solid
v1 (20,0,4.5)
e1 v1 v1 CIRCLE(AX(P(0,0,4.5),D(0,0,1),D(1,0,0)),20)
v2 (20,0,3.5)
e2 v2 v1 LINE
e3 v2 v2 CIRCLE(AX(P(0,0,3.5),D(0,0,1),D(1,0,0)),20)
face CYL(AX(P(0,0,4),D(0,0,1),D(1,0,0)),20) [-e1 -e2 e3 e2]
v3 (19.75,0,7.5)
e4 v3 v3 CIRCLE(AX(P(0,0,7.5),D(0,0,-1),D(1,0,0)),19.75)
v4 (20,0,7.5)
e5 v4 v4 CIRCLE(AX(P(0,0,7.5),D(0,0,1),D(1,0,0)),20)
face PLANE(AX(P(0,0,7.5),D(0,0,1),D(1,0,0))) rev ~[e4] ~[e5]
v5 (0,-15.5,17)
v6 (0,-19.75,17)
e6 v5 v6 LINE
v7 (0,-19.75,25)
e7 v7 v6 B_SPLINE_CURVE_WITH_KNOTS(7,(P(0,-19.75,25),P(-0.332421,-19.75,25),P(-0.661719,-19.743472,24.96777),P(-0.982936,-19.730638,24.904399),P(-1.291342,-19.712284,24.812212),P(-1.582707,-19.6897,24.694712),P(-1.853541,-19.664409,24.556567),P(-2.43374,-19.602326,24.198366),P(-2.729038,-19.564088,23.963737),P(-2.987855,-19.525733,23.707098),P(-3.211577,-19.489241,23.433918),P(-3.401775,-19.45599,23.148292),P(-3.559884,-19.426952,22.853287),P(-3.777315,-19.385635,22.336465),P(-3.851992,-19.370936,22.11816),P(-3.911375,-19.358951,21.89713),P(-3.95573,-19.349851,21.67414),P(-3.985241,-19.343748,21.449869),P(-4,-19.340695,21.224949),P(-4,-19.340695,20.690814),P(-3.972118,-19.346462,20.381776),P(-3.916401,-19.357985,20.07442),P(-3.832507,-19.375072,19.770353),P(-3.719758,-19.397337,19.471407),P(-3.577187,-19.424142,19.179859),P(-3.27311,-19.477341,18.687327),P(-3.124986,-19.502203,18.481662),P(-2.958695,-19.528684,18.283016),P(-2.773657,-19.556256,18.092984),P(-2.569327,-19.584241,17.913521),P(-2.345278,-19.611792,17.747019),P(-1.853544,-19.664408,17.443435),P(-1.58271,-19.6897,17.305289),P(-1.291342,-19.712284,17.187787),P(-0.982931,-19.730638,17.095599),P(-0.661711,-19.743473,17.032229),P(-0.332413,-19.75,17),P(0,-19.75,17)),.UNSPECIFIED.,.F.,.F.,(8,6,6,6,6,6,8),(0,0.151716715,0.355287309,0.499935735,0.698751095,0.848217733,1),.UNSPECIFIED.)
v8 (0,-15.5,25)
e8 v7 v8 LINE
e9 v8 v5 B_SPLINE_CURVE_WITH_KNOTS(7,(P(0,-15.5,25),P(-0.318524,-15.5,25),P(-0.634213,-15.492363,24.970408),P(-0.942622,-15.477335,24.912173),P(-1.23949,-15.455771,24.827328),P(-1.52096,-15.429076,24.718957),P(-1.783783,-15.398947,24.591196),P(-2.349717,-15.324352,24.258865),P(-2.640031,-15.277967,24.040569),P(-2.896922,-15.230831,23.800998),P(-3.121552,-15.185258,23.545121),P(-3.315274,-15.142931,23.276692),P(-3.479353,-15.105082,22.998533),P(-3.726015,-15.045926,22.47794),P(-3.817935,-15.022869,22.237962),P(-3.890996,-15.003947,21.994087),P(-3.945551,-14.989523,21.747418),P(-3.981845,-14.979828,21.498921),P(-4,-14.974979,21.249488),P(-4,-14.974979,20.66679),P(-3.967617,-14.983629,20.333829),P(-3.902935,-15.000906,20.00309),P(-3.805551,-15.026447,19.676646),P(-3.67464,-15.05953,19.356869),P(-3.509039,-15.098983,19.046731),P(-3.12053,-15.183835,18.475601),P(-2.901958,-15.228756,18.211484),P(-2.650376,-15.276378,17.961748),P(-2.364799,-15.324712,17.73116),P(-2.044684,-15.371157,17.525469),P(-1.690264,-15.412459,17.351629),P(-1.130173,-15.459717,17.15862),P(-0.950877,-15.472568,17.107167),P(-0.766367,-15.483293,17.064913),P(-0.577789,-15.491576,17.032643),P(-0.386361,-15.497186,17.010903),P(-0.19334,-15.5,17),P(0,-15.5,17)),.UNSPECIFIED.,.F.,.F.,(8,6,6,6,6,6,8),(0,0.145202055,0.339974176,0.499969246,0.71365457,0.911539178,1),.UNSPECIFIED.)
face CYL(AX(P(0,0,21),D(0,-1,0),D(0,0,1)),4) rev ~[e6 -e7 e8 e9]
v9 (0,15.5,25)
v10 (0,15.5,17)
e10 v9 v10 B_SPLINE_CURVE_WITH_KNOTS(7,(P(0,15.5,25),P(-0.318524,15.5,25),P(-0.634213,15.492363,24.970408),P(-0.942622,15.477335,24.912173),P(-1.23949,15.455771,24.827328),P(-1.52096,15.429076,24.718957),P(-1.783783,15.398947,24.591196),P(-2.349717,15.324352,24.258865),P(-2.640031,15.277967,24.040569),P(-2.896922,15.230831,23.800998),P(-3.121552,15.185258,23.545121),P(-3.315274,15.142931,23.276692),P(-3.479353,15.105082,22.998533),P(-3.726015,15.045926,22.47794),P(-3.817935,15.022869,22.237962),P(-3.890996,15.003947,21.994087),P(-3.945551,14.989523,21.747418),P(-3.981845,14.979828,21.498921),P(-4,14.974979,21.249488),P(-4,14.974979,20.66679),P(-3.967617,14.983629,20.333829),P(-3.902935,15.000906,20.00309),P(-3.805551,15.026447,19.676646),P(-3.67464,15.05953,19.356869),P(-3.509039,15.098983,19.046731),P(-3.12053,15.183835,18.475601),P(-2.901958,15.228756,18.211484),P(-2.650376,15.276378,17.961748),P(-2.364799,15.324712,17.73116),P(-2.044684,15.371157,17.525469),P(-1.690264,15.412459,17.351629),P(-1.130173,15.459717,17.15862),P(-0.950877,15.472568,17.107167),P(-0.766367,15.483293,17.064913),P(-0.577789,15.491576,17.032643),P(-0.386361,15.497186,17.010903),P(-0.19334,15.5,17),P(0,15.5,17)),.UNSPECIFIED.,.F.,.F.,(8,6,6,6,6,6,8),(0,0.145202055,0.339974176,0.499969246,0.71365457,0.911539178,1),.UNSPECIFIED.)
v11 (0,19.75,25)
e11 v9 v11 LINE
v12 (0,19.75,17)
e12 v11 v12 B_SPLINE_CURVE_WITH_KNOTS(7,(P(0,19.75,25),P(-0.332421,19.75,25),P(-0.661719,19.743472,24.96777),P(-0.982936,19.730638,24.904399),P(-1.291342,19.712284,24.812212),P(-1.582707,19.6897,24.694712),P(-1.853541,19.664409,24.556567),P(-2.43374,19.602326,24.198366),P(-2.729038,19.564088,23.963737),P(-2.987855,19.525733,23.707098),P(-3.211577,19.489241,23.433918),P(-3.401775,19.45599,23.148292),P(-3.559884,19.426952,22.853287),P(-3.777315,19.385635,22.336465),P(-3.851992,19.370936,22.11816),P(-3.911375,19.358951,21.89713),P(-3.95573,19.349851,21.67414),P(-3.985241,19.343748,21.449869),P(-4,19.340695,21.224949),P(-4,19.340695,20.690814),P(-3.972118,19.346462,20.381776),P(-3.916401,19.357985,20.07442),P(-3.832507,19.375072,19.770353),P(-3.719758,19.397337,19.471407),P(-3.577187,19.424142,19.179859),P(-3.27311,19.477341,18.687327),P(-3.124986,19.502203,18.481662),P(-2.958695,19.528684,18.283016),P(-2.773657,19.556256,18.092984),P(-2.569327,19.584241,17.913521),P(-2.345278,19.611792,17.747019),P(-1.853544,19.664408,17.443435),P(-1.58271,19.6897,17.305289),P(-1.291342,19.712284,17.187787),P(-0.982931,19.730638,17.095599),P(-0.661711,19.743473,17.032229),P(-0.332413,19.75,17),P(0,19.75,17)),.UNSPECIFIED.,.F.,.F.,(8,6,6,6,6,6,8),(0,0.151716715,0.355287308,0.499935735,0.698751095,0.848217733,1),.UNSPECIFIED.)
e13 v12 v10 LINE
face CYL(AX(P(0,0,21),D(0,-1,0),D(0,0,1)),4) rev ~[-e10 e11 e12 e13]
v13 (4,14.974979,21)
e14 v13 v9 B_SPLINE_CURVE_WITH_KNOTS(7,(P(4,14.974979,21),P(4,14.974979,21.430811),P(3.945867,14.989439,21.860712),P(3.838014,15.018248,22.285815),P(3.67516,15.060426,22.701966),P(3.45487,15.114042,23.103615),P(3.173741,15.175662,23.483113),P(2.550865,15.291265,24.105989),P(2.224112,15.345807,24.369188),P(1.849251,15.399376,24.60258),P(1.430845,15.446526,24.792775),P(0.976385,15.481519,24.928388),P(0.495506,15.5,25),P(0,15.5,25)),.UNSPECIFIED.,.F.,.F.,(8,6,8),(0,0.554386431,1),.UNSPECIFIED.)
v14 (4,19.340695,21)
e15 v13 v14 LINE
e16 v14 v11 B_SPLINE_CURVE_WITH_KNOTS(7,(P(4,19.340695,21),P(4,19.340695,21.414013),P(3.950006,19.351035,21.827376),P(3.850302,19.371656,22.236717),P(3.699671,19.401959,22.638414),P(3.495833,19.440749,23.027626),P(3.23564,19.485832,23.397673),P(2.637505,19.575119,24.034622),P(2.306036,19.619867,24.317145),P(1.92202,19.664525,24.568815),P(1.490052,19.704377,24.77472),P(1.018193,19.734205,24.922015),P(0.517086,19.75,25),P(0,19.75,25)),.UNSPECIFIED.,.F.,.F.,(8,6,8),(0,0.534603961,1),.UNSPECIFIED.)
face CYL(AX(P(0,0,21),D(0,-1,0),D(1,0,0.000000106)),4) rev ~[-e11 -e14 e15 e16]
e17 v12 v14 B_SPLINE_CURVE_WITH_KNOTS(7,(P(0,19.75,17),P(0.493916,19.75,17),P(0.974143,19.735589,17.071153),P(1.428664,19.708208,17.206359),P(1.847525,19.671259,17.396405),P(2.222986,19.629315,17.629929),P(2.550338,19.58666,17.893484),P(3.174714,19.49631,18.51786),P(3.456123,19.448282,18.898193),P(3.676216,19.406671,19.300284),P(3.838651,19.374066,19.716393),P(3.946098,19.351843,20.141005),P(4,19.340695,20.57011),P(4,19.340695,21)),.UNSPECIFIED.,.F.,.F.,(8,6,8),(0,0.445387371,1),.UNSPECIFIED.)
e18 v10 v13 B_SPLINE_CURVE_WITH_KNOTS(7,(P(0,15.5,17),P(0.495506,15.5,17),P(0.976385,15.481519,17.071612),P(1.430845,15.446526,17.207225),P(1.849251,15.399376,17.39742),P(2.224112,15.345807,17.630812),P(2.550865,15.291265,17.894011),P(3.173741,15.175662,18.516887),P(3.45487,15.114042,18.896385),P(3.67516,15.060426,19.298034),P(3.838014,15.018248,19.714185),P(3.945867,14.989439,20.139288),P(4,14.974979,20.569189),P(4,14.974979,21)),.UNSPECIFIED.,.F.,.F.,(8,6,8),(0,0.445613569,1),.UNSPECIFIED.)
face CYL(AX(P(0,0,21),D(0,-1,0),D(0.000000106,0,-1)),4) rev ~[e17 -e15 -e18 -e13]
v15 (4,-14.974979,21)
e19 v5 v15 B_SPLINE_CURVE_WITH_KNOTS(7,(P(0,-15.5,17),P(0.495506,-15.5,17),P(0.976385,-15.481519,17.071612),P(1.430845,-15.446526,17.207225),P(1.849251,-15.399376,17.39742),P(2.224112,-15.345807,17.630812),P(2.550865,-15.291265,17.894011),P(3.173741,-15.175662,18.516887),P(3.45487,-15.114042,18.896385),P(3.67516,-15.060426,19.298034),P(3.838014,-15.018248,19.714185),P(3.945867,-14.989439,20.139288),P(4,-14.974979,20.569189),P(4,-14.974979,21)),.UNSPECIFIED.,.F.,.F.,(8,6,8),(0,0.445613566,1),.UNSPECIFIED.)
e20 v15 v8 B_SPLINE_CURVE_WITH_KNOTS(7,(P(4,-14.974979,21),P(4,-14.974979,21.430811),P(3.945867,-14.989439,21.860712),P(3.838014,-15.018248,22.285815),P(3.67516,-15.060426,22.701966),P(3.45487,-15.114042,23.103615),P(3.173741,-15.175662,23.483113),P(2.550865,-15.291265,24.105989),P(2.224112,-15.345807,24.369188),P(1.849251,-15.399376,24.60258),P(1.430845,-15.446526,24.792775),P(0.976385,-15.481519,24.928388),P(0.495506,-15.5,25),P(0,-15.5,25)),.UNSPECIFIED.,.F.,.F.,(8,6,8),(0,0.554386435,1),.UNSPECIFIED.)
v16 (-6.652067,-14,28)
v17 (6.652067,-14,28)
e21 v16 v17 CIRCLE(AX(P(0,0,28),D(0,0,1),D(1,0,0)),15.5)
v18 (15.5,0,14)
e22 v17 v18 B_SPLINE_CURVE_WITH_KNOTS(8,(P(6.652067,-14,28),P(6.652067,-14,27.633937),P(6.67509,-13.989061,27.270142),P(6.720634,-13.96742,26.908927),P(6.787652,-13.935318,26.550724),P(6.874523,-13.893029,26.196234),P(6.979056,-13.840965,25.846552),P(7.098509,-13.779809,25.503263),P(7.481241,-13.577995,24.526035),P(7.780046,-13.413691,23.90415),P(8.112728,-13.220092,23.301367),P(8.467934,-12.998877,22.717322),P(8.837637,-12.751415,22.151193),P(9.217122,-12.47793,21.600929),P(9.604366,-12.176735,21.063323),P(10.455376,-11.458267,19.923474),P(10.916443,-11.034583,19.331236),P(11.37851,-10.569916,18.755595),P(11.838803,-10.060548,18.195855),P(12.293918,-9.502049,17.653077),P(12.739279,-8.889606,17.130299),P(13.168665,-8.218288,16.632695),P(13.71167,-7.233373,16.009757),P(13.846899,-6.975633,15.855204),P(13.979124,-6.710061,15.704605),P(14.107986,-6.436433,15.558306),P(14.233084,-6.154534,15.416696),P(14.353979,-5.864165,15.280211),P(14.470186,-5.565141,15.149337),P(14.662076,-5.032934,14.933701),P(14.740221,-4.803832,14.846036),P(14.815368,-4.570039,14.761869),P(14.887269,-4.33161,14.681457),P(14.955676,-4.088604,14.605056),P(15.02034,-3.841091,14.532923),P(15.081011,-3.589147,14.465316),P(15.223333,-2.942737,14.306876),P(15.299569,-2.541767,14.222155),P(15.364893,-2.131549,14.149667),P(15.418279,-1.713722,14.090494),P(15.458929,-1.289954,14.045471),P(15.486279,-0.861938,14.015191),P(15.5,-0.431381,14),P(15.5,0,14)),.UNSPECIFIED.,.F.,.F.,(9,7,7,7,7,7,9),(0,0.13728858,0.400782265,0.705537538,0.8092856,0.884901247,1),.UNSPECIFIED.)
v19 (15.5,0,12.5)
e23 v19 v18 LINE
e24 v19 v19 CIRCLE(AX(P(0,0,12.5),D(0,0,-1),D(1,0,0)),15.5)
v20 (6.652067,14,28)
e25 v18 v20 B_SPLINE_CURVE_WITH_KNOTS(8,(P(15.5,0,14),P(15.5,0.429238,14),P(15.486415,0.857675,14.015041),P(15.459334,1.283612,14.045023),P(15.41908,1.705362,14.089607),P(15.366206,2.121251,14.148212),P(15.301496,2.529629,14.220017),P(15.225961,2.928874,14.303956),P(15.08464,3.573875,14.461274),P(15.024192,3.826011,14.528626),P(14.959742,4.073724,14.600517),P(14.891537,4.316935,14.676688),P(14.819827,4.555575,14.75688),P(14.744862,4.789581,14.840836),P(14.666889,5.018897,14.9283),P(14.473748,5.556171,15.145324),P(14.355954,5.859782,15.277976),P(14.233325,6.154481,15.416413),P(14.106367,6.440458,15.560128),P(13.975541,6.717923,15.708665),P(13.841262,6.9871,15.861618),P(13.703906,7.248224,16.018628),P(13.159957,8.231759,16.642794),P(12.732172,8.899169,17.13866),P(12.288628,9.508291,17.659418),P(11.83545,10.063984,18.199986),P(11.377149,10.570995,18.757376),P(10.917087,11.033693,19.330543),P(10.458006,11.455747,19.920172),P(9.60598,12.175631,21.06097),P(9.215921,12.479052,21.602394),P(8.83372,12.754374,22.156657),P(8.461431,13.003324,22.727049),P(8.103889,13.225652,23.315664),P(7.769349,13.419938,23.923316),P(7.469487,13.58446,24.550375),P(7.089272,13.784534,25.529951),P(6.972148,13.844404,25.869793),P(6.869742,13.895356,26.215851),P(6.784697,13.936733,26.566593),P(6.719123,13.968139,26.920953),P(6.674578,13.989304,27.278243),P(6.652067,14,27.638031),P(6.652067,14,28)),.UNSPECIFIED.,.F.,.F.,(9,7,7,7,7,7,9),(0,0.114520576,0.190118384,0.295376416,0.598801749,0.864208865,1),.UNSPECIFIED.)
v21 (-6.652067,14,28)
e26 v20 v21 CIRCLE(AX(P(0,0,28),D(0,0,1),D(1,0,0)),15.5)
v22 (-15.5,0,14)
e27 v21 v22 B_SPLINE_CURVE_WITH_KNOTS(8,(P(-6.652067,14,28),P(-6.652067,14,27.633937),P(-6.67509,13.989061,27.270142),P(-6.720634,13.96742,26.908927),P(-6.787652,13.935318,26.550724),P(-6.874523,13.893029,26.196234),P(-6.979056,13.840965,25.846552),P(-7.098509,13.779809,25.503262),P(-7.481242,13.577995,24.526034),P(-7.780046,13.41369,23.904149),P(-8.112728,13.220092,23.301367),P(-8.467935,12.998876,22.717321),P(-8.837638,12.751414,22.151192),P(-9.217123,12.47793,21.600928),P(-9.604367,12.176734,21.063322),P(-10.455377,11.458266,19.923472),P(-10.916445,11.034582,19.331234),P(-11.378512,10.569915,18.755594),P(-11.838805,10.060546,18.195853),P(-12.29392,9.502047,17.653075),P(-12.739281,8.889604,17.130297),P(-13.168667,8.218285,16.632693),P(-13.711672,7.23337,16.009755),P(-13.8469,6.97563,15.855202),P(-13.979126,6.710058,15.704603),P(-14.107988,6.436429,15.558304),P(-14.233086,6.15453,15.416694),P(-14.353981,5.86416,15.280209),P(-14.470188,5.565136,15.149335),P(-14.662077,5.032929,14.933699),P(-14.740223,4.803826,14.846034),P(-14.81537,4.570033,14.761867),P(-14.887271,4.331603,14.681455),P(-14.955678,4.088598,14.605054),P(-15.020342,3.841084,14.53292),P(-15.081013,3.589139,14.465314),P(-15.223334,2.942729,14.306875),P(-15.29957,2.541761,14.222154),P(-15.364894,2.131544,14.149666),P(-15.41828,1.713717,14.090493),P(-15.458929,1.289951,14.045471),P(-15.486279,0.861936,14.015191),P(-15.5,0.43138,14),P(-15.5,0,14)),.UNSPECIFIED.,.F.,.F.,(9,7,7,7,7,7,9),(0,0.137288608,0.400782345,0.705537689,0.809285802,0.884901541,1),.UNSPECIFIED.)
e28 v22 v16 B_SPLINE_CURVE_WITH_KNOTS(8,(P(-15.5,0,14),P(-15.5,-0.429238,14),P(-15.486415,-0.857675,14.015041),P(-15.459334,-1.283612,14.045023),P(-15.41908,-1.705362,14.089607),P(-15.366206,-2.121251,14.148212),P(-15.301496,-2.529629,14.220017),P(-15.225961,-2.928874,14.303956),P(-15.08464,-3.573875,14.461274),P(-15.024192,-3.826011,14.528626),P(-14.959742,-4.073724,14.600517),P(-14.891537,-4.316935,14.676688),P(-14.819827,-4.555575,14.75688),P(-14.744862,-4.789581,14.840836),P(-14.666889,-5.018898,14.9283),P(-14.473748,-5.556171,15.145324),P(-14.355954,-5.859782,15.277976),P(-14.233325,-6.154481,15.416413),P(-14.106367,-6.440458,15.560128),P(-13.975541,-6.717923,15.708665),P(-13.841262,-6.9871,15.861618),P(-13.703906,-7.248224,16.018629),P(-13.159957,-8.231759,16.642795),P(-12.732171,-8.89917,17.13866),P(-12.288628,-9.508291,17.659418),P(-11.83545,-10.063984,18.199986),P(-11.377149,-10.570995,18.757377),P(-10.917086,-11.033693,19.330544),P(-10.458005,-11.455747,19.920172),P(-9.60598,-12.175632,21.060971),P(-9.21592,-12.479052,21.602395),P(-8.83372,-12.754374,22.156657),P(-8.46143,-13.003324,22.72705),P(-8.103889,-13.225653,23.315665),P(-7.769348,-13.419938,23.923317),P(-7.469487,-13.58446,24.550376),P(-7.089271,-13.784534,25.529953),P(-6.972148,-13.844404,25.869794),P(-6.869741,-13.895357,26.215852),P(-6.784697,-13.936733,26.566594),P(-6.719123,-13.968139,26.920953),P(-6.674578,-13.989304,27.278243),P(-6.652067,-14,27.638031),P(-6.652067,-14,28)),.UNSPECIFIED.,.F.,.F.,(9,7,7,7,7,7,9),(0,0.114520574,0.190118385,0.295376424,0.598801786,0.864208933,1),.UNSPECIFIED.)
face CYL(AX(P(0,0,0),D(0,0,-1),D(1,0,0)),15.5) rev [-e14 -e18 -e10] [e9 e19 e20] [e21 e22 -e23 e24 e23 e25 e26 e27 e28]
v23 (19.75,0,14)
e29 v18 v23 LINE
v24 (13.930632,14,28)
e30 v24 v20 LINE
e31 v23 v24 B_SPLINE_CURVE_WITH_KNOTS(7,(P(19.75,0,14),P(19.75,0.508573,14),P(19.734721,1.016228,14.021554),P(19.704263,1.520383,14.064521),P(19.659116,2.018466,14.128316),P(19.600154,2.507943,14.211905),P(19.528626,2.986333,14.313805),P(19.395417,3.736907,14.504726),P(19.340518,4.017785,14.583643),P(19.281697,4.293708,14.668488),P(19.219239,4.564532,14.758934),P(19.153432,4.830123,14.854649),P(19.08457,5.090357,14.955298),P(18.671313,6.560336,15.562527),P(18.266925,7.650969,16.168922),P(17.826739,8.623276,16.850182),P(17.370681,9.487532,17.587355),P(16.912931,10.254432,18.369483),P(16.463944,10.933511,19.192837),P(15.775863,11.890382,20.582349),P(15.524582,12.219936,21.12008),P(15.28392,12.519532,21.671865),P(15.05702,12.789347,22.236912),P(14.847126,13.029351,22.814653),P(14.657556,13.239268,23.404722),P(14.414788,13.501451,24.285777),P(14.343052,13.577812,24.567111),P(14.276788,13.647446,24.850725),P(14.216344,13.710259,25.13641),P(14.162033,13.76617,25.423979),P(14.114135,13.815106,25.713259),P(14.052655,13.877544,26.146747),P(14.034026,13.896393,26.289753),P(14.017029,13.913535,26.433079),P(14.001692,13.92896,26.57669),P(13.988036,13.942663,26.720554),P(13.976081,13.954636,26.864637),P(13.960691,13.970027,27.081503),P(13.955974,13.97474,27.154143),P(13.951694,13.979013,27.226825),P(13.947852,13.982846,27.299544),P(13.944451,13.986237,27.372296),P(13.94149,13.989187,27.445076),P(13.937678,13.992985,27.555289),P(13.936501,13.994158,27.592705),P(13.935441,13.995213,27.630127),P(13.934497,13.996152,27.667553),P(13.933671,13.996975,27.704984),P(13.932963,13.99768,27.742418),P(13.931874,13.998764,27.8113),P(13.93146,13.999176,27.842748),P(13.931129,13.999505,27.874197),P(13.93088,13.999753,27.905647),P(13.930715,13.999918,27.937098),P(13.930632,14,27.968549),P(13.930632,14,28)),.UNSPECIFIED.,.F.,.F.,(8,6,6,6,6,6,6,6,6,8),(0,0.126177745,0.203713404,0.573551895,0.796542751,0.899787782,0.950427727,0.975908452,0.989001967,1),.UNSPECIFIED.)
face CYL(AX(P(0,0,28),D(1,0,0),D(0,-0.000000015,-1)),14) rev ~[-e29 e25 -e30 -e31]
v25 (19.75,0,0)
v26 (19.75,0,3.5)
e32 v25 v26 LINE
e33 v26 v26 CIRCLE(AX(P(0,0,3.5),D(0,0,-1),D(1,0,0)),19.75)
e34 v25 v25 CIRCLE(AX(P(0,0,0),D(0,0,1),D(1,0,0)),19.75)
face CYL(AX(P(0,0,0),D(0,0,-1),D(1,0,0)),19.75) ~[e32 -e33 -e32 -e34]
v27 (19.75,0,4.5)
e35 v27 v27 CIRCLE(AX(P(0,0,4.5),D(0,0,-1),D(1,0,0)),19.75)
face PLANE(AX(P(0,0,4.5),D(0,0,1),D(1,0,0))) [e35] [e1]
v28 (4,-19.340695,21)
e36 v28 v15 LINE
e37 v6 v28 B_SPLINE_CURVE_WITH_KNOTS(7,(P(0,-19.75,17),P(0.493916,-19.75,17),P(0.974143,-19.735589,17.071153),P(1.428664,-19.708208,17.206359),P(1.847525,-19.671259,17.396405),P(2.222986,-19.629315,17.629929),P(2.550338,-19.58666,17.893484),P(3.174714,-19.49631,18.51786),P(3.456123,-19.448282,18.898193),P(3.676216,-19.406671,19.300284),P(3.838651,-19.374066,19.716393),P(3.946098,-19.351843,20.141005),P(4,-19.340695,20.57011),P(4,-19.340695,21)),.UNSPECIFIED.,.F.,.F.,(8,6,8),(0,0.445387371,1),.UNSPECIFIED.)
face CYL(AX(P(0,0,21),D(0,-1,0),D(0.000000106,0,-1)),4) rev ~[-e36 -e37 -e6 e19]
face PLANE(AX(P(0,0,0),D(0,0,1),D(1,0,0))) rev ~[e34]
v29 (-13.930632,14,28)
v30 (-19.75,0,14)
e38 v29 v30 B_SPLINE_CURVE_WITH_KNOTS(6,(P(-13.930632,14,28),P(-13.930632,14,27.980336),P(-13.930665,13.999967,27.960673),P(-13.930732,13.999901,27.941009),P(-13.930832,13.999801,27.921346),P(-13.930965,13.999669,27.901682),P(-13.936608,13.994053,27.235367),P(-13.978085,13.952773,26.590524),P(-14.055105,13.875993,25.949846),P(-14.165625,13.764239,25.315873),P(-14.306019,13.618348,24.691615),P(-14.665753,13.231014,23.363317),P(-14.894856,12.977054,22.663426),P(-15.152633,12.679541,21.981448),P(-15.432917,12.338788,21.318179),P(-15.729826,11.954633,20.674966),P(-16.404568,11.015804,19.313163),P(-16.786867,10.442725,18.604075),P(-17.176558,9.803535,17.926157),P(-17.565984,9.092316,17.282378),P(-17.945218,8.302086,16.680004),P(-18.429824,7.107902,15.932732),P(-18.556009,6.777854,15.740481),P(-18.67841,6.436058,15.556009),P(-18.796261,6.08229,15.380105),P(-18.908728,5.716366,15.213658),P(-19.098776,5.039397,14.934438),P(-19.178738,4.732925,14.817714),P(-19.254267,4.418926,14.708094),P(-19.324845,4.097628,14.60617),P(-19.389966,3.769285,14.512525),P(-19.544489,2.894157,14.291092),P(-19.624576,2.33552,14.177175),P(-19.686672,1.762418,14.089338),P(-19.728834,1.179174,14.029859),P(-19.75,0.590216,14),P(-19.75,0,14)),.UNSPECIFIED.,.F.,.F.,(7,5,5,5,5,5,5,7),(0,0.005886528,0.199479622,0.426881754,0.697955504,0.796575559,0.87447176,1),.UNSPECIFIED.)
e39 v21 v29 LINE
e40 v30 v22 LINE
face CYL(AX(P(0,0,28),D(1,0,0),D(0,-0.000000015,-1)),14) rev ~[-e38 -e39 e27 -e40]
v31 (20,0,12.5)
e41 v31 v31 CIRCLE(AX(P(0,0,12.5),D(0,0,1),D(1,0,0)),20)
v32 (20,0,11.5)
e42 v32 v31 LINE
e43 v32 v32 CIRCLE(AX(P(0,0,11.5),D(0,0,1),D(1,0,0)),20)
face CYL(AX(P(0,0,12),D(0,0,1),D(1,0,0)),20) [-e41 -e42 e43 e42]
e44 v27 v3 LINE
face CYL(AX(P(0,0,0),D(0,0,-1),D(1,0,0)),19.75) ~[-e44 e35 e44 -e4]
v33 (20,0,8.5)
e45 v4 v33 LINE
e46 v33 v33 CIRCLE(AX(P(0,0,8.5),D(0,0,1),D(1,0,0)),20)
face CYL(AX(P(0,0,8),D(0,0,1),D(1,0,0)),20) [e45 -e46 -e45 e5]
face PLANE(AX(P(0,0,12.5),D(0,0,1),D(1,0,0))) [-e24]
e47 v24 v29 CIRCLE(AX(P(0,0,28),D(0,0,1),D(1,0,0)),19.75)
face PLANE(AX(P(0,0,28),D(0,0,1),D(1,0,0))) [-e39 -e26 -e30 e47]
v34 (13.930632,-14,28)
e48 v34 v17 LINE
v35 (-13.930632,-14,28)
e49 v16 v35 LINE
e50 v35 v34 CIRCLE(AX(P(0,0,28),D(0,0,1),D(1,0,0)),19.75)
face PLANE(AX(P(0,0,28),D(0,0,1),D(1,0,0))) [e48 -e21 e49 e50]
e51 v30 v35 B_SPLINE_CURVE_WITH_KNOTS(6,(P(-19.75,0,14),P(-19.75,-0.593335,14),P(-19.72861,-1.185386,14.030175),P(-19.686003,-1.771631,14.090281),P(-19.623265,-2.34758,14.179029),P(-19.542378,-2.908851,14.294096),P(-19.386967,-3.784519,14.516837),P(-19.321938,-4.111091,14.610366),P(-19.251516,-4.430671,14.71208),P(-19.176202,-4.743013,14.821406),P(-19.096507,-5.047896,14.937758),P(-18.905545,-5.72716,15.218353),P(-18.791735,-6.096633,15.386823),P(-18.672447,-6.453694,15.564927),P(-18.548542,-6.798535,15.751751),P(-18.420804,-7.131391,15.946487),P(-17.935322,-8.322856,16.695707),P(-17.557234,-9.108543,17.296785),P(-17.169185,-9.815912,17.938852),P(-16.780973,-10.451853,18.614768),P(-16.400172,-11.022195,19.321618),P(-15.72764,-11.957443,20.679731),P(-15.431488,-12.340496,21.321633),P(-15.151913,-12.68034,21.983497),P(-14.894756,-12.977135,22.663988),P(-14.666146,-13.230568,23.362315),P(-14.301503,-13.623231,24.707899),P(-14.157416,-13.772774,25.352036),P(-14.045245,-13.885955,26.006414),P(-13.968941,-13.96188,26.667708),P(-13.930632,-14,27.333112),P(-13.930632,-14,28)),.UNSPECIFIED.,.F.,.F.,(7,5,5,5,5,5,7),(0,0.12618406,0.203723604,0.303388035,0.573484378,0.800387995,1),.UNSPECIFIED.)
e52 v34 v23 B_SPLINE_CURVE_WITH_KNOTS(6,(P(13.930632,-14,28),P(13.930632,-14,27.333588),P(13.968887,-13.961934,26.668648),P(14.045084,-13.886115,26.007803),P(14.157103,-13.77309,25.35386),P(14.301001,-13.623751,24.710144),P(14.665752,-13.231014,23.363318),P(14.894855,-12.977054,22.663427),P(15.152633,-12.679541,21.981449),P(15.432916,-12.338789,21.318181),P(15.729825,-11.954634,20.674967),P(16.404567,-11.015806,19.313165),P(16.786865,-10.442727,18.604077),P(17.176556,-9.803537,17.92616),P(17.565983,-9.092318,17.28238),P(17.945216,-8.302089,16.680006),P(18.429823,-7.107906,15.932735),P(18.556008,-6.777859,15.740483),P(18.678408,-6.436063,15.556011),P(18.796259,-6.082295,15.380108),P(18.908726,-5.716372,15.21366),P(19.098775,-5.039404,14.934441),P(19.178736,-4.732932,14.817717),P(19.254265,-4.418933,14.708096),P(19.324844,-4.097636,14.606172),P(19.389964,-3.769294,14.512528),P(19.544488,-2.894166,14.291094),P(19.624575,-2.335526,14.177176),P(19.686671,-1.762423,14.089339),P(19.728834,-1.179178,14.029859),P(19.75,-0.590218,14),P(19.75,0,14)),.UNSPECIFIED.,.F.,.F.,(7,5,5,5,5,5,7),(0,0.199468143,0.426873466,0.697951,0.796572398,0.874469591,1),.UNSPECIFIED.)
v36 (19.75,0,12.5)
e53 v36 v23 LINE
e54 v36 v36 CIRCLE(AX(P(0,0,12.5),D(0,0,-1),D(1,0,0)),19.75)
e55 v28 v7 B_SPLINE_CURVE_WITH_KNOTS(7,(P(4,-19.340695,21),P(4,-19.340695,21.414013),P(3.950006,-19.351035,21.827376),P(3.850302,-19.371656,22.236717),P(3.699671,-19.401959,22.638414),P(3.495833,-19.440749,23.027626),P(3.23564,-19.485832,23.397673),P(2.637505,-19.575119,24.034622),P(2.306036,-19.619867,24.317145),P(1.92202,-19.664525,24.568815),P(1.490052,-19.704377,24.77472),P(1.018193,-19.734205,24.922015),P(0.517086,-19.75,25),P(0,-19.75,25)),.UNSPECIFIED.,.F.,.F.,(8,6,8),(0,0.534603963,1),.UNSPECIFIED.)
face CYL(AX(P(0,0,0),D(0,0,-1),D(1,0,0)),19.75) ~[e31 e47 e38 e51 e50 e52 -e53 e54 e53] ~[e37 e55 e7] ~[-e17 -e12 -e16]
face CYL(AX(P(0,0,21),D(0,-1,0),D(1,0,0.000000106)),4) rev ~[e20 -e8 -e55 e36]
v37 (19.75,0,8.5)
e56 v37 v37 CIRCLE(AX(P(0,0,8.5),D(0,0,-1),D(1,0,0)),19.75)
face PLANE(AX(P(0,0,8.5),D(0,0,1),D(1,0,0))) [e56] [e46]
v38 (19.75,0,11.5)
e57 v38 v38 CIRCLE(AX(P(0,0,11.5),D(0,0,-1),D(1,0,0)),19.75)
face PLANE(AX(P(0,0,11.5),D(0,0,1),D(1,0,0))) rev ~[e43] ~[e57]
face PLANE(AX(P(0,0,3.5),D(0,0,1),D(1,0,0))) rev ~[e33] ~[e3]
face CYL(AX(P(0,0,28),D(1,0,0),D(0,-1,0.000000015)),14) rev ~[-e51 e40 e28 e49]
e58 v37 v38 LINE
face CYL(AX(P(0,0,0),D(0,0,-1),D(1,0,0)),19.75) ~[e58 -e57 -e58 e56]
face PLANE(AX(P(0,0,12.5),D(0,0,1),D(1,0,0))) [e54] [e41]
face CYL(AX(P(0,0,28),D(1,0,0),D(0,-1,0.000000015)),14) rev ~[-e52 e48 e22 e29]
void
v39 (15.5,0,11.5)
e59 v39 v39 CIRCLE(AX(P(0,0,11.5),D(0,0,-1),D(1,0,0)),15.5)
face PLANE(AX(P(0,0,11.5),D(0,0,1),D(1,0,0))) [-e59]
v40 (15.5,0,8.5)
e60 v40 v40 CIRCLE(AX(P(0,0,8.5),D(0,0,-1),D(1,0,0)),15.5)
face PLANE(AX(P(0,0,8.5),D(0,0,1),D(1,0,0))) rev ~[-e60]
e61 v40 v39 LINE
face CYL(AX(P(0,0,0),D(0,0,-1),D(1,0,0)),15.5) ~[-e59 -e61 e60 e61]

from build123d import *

# Parameters (mm, degrees)
F0_R      = 19.75
F0_R_2    = 15.5
F1_DEPTH  = 28
F2_DEPTH  = 8
F4_DEPTH  = 50
F7_R      = 20
F8_DEPTH  = 0.5
F10_R     = 20
F11_DEPTH = 0.5
F13_R     = 20
F14_DEPTH = 0.5
F16_DEPTH = 50


with BuildPart() as f1:
    # F0 (on Top) → F1 (new body)
    with BuildSketch(Plane.XY):
        Circle(F0_R)
        Circle(F0_R_2, mode=Mode.SUBTRACT)
    extrude(amount=F1_DEPTH)

    # F0 (on Top) → F2 (join)
    with BuildSketch(Plane.XY):
        Circle(F0_R_2)
    extrude(amount=F2_DEPTH)

    # F3 (on Front) → F4 (cut, symmetric)
    with BuildSketch(Plane.XZ):
        with BuildLine():
            ThreePointArc((0, 25), (-4, 21), (0, 17))
            Line((0, 17), (0, 21))
            Line((0, 21), (0, 25))
        make_face()
        with BuildLine():
            Line((0, 21), (0, 17))
            ThreePointArc((0, 17), (2.828427, 18.171573), (4, 21))
            ThreePointArc((4, 21), (2.828427, 23.828427), (0, 25))
            Line((0, 25), (0, 21))
        make_face()
    extrude(amount=F4_DEPTH, both=True, mode=Mode.SUBTRACT)

    # F7 (on plane+point) → F8 (join, symmetric)
    with BuildSketch(Plane.XY.offset(4)):
        Circle(F7_R)
    extrude(amount=F8_DEPTH, both=True)

    # F10 (on plane+point) → F11 (join, symmetric)
    with BuildSketch(Plane.XY.offset(8)):
        Circle(F10_R)
    extrude(amount=F11_DEPTH, both=True)

    # F13 (on plane+point) → F14 (join, symmetric)
    with BuildSketch(Plane.XY.offset(12)):
        Circle(F13_R)
    extrude(amount=F14_DEPTH, both=True)

    # F15 (on Right) → F16 (cut, symmetric)
    with BuildSketch(Plane.YZ):
        with BuildLine():
            ThreePointArc((-14, 28), (-9.899495, 18.100505), (0, 14))
            Line((0, 14), (0, 28))
            Line((0, 28), (-14, 28))
        make_face()
        with BuildLine():
            Line((0, 28), (0, 14))
            ThreePointArc((0, 14), (9.899495, 18.100505), (14, 28))
            Line((14, 28), (0, 28))
        make_face()
    extrude(amount=F16_DEPTH, both=True, mode=Mode.SUBTRACT)


solid = f1.part
